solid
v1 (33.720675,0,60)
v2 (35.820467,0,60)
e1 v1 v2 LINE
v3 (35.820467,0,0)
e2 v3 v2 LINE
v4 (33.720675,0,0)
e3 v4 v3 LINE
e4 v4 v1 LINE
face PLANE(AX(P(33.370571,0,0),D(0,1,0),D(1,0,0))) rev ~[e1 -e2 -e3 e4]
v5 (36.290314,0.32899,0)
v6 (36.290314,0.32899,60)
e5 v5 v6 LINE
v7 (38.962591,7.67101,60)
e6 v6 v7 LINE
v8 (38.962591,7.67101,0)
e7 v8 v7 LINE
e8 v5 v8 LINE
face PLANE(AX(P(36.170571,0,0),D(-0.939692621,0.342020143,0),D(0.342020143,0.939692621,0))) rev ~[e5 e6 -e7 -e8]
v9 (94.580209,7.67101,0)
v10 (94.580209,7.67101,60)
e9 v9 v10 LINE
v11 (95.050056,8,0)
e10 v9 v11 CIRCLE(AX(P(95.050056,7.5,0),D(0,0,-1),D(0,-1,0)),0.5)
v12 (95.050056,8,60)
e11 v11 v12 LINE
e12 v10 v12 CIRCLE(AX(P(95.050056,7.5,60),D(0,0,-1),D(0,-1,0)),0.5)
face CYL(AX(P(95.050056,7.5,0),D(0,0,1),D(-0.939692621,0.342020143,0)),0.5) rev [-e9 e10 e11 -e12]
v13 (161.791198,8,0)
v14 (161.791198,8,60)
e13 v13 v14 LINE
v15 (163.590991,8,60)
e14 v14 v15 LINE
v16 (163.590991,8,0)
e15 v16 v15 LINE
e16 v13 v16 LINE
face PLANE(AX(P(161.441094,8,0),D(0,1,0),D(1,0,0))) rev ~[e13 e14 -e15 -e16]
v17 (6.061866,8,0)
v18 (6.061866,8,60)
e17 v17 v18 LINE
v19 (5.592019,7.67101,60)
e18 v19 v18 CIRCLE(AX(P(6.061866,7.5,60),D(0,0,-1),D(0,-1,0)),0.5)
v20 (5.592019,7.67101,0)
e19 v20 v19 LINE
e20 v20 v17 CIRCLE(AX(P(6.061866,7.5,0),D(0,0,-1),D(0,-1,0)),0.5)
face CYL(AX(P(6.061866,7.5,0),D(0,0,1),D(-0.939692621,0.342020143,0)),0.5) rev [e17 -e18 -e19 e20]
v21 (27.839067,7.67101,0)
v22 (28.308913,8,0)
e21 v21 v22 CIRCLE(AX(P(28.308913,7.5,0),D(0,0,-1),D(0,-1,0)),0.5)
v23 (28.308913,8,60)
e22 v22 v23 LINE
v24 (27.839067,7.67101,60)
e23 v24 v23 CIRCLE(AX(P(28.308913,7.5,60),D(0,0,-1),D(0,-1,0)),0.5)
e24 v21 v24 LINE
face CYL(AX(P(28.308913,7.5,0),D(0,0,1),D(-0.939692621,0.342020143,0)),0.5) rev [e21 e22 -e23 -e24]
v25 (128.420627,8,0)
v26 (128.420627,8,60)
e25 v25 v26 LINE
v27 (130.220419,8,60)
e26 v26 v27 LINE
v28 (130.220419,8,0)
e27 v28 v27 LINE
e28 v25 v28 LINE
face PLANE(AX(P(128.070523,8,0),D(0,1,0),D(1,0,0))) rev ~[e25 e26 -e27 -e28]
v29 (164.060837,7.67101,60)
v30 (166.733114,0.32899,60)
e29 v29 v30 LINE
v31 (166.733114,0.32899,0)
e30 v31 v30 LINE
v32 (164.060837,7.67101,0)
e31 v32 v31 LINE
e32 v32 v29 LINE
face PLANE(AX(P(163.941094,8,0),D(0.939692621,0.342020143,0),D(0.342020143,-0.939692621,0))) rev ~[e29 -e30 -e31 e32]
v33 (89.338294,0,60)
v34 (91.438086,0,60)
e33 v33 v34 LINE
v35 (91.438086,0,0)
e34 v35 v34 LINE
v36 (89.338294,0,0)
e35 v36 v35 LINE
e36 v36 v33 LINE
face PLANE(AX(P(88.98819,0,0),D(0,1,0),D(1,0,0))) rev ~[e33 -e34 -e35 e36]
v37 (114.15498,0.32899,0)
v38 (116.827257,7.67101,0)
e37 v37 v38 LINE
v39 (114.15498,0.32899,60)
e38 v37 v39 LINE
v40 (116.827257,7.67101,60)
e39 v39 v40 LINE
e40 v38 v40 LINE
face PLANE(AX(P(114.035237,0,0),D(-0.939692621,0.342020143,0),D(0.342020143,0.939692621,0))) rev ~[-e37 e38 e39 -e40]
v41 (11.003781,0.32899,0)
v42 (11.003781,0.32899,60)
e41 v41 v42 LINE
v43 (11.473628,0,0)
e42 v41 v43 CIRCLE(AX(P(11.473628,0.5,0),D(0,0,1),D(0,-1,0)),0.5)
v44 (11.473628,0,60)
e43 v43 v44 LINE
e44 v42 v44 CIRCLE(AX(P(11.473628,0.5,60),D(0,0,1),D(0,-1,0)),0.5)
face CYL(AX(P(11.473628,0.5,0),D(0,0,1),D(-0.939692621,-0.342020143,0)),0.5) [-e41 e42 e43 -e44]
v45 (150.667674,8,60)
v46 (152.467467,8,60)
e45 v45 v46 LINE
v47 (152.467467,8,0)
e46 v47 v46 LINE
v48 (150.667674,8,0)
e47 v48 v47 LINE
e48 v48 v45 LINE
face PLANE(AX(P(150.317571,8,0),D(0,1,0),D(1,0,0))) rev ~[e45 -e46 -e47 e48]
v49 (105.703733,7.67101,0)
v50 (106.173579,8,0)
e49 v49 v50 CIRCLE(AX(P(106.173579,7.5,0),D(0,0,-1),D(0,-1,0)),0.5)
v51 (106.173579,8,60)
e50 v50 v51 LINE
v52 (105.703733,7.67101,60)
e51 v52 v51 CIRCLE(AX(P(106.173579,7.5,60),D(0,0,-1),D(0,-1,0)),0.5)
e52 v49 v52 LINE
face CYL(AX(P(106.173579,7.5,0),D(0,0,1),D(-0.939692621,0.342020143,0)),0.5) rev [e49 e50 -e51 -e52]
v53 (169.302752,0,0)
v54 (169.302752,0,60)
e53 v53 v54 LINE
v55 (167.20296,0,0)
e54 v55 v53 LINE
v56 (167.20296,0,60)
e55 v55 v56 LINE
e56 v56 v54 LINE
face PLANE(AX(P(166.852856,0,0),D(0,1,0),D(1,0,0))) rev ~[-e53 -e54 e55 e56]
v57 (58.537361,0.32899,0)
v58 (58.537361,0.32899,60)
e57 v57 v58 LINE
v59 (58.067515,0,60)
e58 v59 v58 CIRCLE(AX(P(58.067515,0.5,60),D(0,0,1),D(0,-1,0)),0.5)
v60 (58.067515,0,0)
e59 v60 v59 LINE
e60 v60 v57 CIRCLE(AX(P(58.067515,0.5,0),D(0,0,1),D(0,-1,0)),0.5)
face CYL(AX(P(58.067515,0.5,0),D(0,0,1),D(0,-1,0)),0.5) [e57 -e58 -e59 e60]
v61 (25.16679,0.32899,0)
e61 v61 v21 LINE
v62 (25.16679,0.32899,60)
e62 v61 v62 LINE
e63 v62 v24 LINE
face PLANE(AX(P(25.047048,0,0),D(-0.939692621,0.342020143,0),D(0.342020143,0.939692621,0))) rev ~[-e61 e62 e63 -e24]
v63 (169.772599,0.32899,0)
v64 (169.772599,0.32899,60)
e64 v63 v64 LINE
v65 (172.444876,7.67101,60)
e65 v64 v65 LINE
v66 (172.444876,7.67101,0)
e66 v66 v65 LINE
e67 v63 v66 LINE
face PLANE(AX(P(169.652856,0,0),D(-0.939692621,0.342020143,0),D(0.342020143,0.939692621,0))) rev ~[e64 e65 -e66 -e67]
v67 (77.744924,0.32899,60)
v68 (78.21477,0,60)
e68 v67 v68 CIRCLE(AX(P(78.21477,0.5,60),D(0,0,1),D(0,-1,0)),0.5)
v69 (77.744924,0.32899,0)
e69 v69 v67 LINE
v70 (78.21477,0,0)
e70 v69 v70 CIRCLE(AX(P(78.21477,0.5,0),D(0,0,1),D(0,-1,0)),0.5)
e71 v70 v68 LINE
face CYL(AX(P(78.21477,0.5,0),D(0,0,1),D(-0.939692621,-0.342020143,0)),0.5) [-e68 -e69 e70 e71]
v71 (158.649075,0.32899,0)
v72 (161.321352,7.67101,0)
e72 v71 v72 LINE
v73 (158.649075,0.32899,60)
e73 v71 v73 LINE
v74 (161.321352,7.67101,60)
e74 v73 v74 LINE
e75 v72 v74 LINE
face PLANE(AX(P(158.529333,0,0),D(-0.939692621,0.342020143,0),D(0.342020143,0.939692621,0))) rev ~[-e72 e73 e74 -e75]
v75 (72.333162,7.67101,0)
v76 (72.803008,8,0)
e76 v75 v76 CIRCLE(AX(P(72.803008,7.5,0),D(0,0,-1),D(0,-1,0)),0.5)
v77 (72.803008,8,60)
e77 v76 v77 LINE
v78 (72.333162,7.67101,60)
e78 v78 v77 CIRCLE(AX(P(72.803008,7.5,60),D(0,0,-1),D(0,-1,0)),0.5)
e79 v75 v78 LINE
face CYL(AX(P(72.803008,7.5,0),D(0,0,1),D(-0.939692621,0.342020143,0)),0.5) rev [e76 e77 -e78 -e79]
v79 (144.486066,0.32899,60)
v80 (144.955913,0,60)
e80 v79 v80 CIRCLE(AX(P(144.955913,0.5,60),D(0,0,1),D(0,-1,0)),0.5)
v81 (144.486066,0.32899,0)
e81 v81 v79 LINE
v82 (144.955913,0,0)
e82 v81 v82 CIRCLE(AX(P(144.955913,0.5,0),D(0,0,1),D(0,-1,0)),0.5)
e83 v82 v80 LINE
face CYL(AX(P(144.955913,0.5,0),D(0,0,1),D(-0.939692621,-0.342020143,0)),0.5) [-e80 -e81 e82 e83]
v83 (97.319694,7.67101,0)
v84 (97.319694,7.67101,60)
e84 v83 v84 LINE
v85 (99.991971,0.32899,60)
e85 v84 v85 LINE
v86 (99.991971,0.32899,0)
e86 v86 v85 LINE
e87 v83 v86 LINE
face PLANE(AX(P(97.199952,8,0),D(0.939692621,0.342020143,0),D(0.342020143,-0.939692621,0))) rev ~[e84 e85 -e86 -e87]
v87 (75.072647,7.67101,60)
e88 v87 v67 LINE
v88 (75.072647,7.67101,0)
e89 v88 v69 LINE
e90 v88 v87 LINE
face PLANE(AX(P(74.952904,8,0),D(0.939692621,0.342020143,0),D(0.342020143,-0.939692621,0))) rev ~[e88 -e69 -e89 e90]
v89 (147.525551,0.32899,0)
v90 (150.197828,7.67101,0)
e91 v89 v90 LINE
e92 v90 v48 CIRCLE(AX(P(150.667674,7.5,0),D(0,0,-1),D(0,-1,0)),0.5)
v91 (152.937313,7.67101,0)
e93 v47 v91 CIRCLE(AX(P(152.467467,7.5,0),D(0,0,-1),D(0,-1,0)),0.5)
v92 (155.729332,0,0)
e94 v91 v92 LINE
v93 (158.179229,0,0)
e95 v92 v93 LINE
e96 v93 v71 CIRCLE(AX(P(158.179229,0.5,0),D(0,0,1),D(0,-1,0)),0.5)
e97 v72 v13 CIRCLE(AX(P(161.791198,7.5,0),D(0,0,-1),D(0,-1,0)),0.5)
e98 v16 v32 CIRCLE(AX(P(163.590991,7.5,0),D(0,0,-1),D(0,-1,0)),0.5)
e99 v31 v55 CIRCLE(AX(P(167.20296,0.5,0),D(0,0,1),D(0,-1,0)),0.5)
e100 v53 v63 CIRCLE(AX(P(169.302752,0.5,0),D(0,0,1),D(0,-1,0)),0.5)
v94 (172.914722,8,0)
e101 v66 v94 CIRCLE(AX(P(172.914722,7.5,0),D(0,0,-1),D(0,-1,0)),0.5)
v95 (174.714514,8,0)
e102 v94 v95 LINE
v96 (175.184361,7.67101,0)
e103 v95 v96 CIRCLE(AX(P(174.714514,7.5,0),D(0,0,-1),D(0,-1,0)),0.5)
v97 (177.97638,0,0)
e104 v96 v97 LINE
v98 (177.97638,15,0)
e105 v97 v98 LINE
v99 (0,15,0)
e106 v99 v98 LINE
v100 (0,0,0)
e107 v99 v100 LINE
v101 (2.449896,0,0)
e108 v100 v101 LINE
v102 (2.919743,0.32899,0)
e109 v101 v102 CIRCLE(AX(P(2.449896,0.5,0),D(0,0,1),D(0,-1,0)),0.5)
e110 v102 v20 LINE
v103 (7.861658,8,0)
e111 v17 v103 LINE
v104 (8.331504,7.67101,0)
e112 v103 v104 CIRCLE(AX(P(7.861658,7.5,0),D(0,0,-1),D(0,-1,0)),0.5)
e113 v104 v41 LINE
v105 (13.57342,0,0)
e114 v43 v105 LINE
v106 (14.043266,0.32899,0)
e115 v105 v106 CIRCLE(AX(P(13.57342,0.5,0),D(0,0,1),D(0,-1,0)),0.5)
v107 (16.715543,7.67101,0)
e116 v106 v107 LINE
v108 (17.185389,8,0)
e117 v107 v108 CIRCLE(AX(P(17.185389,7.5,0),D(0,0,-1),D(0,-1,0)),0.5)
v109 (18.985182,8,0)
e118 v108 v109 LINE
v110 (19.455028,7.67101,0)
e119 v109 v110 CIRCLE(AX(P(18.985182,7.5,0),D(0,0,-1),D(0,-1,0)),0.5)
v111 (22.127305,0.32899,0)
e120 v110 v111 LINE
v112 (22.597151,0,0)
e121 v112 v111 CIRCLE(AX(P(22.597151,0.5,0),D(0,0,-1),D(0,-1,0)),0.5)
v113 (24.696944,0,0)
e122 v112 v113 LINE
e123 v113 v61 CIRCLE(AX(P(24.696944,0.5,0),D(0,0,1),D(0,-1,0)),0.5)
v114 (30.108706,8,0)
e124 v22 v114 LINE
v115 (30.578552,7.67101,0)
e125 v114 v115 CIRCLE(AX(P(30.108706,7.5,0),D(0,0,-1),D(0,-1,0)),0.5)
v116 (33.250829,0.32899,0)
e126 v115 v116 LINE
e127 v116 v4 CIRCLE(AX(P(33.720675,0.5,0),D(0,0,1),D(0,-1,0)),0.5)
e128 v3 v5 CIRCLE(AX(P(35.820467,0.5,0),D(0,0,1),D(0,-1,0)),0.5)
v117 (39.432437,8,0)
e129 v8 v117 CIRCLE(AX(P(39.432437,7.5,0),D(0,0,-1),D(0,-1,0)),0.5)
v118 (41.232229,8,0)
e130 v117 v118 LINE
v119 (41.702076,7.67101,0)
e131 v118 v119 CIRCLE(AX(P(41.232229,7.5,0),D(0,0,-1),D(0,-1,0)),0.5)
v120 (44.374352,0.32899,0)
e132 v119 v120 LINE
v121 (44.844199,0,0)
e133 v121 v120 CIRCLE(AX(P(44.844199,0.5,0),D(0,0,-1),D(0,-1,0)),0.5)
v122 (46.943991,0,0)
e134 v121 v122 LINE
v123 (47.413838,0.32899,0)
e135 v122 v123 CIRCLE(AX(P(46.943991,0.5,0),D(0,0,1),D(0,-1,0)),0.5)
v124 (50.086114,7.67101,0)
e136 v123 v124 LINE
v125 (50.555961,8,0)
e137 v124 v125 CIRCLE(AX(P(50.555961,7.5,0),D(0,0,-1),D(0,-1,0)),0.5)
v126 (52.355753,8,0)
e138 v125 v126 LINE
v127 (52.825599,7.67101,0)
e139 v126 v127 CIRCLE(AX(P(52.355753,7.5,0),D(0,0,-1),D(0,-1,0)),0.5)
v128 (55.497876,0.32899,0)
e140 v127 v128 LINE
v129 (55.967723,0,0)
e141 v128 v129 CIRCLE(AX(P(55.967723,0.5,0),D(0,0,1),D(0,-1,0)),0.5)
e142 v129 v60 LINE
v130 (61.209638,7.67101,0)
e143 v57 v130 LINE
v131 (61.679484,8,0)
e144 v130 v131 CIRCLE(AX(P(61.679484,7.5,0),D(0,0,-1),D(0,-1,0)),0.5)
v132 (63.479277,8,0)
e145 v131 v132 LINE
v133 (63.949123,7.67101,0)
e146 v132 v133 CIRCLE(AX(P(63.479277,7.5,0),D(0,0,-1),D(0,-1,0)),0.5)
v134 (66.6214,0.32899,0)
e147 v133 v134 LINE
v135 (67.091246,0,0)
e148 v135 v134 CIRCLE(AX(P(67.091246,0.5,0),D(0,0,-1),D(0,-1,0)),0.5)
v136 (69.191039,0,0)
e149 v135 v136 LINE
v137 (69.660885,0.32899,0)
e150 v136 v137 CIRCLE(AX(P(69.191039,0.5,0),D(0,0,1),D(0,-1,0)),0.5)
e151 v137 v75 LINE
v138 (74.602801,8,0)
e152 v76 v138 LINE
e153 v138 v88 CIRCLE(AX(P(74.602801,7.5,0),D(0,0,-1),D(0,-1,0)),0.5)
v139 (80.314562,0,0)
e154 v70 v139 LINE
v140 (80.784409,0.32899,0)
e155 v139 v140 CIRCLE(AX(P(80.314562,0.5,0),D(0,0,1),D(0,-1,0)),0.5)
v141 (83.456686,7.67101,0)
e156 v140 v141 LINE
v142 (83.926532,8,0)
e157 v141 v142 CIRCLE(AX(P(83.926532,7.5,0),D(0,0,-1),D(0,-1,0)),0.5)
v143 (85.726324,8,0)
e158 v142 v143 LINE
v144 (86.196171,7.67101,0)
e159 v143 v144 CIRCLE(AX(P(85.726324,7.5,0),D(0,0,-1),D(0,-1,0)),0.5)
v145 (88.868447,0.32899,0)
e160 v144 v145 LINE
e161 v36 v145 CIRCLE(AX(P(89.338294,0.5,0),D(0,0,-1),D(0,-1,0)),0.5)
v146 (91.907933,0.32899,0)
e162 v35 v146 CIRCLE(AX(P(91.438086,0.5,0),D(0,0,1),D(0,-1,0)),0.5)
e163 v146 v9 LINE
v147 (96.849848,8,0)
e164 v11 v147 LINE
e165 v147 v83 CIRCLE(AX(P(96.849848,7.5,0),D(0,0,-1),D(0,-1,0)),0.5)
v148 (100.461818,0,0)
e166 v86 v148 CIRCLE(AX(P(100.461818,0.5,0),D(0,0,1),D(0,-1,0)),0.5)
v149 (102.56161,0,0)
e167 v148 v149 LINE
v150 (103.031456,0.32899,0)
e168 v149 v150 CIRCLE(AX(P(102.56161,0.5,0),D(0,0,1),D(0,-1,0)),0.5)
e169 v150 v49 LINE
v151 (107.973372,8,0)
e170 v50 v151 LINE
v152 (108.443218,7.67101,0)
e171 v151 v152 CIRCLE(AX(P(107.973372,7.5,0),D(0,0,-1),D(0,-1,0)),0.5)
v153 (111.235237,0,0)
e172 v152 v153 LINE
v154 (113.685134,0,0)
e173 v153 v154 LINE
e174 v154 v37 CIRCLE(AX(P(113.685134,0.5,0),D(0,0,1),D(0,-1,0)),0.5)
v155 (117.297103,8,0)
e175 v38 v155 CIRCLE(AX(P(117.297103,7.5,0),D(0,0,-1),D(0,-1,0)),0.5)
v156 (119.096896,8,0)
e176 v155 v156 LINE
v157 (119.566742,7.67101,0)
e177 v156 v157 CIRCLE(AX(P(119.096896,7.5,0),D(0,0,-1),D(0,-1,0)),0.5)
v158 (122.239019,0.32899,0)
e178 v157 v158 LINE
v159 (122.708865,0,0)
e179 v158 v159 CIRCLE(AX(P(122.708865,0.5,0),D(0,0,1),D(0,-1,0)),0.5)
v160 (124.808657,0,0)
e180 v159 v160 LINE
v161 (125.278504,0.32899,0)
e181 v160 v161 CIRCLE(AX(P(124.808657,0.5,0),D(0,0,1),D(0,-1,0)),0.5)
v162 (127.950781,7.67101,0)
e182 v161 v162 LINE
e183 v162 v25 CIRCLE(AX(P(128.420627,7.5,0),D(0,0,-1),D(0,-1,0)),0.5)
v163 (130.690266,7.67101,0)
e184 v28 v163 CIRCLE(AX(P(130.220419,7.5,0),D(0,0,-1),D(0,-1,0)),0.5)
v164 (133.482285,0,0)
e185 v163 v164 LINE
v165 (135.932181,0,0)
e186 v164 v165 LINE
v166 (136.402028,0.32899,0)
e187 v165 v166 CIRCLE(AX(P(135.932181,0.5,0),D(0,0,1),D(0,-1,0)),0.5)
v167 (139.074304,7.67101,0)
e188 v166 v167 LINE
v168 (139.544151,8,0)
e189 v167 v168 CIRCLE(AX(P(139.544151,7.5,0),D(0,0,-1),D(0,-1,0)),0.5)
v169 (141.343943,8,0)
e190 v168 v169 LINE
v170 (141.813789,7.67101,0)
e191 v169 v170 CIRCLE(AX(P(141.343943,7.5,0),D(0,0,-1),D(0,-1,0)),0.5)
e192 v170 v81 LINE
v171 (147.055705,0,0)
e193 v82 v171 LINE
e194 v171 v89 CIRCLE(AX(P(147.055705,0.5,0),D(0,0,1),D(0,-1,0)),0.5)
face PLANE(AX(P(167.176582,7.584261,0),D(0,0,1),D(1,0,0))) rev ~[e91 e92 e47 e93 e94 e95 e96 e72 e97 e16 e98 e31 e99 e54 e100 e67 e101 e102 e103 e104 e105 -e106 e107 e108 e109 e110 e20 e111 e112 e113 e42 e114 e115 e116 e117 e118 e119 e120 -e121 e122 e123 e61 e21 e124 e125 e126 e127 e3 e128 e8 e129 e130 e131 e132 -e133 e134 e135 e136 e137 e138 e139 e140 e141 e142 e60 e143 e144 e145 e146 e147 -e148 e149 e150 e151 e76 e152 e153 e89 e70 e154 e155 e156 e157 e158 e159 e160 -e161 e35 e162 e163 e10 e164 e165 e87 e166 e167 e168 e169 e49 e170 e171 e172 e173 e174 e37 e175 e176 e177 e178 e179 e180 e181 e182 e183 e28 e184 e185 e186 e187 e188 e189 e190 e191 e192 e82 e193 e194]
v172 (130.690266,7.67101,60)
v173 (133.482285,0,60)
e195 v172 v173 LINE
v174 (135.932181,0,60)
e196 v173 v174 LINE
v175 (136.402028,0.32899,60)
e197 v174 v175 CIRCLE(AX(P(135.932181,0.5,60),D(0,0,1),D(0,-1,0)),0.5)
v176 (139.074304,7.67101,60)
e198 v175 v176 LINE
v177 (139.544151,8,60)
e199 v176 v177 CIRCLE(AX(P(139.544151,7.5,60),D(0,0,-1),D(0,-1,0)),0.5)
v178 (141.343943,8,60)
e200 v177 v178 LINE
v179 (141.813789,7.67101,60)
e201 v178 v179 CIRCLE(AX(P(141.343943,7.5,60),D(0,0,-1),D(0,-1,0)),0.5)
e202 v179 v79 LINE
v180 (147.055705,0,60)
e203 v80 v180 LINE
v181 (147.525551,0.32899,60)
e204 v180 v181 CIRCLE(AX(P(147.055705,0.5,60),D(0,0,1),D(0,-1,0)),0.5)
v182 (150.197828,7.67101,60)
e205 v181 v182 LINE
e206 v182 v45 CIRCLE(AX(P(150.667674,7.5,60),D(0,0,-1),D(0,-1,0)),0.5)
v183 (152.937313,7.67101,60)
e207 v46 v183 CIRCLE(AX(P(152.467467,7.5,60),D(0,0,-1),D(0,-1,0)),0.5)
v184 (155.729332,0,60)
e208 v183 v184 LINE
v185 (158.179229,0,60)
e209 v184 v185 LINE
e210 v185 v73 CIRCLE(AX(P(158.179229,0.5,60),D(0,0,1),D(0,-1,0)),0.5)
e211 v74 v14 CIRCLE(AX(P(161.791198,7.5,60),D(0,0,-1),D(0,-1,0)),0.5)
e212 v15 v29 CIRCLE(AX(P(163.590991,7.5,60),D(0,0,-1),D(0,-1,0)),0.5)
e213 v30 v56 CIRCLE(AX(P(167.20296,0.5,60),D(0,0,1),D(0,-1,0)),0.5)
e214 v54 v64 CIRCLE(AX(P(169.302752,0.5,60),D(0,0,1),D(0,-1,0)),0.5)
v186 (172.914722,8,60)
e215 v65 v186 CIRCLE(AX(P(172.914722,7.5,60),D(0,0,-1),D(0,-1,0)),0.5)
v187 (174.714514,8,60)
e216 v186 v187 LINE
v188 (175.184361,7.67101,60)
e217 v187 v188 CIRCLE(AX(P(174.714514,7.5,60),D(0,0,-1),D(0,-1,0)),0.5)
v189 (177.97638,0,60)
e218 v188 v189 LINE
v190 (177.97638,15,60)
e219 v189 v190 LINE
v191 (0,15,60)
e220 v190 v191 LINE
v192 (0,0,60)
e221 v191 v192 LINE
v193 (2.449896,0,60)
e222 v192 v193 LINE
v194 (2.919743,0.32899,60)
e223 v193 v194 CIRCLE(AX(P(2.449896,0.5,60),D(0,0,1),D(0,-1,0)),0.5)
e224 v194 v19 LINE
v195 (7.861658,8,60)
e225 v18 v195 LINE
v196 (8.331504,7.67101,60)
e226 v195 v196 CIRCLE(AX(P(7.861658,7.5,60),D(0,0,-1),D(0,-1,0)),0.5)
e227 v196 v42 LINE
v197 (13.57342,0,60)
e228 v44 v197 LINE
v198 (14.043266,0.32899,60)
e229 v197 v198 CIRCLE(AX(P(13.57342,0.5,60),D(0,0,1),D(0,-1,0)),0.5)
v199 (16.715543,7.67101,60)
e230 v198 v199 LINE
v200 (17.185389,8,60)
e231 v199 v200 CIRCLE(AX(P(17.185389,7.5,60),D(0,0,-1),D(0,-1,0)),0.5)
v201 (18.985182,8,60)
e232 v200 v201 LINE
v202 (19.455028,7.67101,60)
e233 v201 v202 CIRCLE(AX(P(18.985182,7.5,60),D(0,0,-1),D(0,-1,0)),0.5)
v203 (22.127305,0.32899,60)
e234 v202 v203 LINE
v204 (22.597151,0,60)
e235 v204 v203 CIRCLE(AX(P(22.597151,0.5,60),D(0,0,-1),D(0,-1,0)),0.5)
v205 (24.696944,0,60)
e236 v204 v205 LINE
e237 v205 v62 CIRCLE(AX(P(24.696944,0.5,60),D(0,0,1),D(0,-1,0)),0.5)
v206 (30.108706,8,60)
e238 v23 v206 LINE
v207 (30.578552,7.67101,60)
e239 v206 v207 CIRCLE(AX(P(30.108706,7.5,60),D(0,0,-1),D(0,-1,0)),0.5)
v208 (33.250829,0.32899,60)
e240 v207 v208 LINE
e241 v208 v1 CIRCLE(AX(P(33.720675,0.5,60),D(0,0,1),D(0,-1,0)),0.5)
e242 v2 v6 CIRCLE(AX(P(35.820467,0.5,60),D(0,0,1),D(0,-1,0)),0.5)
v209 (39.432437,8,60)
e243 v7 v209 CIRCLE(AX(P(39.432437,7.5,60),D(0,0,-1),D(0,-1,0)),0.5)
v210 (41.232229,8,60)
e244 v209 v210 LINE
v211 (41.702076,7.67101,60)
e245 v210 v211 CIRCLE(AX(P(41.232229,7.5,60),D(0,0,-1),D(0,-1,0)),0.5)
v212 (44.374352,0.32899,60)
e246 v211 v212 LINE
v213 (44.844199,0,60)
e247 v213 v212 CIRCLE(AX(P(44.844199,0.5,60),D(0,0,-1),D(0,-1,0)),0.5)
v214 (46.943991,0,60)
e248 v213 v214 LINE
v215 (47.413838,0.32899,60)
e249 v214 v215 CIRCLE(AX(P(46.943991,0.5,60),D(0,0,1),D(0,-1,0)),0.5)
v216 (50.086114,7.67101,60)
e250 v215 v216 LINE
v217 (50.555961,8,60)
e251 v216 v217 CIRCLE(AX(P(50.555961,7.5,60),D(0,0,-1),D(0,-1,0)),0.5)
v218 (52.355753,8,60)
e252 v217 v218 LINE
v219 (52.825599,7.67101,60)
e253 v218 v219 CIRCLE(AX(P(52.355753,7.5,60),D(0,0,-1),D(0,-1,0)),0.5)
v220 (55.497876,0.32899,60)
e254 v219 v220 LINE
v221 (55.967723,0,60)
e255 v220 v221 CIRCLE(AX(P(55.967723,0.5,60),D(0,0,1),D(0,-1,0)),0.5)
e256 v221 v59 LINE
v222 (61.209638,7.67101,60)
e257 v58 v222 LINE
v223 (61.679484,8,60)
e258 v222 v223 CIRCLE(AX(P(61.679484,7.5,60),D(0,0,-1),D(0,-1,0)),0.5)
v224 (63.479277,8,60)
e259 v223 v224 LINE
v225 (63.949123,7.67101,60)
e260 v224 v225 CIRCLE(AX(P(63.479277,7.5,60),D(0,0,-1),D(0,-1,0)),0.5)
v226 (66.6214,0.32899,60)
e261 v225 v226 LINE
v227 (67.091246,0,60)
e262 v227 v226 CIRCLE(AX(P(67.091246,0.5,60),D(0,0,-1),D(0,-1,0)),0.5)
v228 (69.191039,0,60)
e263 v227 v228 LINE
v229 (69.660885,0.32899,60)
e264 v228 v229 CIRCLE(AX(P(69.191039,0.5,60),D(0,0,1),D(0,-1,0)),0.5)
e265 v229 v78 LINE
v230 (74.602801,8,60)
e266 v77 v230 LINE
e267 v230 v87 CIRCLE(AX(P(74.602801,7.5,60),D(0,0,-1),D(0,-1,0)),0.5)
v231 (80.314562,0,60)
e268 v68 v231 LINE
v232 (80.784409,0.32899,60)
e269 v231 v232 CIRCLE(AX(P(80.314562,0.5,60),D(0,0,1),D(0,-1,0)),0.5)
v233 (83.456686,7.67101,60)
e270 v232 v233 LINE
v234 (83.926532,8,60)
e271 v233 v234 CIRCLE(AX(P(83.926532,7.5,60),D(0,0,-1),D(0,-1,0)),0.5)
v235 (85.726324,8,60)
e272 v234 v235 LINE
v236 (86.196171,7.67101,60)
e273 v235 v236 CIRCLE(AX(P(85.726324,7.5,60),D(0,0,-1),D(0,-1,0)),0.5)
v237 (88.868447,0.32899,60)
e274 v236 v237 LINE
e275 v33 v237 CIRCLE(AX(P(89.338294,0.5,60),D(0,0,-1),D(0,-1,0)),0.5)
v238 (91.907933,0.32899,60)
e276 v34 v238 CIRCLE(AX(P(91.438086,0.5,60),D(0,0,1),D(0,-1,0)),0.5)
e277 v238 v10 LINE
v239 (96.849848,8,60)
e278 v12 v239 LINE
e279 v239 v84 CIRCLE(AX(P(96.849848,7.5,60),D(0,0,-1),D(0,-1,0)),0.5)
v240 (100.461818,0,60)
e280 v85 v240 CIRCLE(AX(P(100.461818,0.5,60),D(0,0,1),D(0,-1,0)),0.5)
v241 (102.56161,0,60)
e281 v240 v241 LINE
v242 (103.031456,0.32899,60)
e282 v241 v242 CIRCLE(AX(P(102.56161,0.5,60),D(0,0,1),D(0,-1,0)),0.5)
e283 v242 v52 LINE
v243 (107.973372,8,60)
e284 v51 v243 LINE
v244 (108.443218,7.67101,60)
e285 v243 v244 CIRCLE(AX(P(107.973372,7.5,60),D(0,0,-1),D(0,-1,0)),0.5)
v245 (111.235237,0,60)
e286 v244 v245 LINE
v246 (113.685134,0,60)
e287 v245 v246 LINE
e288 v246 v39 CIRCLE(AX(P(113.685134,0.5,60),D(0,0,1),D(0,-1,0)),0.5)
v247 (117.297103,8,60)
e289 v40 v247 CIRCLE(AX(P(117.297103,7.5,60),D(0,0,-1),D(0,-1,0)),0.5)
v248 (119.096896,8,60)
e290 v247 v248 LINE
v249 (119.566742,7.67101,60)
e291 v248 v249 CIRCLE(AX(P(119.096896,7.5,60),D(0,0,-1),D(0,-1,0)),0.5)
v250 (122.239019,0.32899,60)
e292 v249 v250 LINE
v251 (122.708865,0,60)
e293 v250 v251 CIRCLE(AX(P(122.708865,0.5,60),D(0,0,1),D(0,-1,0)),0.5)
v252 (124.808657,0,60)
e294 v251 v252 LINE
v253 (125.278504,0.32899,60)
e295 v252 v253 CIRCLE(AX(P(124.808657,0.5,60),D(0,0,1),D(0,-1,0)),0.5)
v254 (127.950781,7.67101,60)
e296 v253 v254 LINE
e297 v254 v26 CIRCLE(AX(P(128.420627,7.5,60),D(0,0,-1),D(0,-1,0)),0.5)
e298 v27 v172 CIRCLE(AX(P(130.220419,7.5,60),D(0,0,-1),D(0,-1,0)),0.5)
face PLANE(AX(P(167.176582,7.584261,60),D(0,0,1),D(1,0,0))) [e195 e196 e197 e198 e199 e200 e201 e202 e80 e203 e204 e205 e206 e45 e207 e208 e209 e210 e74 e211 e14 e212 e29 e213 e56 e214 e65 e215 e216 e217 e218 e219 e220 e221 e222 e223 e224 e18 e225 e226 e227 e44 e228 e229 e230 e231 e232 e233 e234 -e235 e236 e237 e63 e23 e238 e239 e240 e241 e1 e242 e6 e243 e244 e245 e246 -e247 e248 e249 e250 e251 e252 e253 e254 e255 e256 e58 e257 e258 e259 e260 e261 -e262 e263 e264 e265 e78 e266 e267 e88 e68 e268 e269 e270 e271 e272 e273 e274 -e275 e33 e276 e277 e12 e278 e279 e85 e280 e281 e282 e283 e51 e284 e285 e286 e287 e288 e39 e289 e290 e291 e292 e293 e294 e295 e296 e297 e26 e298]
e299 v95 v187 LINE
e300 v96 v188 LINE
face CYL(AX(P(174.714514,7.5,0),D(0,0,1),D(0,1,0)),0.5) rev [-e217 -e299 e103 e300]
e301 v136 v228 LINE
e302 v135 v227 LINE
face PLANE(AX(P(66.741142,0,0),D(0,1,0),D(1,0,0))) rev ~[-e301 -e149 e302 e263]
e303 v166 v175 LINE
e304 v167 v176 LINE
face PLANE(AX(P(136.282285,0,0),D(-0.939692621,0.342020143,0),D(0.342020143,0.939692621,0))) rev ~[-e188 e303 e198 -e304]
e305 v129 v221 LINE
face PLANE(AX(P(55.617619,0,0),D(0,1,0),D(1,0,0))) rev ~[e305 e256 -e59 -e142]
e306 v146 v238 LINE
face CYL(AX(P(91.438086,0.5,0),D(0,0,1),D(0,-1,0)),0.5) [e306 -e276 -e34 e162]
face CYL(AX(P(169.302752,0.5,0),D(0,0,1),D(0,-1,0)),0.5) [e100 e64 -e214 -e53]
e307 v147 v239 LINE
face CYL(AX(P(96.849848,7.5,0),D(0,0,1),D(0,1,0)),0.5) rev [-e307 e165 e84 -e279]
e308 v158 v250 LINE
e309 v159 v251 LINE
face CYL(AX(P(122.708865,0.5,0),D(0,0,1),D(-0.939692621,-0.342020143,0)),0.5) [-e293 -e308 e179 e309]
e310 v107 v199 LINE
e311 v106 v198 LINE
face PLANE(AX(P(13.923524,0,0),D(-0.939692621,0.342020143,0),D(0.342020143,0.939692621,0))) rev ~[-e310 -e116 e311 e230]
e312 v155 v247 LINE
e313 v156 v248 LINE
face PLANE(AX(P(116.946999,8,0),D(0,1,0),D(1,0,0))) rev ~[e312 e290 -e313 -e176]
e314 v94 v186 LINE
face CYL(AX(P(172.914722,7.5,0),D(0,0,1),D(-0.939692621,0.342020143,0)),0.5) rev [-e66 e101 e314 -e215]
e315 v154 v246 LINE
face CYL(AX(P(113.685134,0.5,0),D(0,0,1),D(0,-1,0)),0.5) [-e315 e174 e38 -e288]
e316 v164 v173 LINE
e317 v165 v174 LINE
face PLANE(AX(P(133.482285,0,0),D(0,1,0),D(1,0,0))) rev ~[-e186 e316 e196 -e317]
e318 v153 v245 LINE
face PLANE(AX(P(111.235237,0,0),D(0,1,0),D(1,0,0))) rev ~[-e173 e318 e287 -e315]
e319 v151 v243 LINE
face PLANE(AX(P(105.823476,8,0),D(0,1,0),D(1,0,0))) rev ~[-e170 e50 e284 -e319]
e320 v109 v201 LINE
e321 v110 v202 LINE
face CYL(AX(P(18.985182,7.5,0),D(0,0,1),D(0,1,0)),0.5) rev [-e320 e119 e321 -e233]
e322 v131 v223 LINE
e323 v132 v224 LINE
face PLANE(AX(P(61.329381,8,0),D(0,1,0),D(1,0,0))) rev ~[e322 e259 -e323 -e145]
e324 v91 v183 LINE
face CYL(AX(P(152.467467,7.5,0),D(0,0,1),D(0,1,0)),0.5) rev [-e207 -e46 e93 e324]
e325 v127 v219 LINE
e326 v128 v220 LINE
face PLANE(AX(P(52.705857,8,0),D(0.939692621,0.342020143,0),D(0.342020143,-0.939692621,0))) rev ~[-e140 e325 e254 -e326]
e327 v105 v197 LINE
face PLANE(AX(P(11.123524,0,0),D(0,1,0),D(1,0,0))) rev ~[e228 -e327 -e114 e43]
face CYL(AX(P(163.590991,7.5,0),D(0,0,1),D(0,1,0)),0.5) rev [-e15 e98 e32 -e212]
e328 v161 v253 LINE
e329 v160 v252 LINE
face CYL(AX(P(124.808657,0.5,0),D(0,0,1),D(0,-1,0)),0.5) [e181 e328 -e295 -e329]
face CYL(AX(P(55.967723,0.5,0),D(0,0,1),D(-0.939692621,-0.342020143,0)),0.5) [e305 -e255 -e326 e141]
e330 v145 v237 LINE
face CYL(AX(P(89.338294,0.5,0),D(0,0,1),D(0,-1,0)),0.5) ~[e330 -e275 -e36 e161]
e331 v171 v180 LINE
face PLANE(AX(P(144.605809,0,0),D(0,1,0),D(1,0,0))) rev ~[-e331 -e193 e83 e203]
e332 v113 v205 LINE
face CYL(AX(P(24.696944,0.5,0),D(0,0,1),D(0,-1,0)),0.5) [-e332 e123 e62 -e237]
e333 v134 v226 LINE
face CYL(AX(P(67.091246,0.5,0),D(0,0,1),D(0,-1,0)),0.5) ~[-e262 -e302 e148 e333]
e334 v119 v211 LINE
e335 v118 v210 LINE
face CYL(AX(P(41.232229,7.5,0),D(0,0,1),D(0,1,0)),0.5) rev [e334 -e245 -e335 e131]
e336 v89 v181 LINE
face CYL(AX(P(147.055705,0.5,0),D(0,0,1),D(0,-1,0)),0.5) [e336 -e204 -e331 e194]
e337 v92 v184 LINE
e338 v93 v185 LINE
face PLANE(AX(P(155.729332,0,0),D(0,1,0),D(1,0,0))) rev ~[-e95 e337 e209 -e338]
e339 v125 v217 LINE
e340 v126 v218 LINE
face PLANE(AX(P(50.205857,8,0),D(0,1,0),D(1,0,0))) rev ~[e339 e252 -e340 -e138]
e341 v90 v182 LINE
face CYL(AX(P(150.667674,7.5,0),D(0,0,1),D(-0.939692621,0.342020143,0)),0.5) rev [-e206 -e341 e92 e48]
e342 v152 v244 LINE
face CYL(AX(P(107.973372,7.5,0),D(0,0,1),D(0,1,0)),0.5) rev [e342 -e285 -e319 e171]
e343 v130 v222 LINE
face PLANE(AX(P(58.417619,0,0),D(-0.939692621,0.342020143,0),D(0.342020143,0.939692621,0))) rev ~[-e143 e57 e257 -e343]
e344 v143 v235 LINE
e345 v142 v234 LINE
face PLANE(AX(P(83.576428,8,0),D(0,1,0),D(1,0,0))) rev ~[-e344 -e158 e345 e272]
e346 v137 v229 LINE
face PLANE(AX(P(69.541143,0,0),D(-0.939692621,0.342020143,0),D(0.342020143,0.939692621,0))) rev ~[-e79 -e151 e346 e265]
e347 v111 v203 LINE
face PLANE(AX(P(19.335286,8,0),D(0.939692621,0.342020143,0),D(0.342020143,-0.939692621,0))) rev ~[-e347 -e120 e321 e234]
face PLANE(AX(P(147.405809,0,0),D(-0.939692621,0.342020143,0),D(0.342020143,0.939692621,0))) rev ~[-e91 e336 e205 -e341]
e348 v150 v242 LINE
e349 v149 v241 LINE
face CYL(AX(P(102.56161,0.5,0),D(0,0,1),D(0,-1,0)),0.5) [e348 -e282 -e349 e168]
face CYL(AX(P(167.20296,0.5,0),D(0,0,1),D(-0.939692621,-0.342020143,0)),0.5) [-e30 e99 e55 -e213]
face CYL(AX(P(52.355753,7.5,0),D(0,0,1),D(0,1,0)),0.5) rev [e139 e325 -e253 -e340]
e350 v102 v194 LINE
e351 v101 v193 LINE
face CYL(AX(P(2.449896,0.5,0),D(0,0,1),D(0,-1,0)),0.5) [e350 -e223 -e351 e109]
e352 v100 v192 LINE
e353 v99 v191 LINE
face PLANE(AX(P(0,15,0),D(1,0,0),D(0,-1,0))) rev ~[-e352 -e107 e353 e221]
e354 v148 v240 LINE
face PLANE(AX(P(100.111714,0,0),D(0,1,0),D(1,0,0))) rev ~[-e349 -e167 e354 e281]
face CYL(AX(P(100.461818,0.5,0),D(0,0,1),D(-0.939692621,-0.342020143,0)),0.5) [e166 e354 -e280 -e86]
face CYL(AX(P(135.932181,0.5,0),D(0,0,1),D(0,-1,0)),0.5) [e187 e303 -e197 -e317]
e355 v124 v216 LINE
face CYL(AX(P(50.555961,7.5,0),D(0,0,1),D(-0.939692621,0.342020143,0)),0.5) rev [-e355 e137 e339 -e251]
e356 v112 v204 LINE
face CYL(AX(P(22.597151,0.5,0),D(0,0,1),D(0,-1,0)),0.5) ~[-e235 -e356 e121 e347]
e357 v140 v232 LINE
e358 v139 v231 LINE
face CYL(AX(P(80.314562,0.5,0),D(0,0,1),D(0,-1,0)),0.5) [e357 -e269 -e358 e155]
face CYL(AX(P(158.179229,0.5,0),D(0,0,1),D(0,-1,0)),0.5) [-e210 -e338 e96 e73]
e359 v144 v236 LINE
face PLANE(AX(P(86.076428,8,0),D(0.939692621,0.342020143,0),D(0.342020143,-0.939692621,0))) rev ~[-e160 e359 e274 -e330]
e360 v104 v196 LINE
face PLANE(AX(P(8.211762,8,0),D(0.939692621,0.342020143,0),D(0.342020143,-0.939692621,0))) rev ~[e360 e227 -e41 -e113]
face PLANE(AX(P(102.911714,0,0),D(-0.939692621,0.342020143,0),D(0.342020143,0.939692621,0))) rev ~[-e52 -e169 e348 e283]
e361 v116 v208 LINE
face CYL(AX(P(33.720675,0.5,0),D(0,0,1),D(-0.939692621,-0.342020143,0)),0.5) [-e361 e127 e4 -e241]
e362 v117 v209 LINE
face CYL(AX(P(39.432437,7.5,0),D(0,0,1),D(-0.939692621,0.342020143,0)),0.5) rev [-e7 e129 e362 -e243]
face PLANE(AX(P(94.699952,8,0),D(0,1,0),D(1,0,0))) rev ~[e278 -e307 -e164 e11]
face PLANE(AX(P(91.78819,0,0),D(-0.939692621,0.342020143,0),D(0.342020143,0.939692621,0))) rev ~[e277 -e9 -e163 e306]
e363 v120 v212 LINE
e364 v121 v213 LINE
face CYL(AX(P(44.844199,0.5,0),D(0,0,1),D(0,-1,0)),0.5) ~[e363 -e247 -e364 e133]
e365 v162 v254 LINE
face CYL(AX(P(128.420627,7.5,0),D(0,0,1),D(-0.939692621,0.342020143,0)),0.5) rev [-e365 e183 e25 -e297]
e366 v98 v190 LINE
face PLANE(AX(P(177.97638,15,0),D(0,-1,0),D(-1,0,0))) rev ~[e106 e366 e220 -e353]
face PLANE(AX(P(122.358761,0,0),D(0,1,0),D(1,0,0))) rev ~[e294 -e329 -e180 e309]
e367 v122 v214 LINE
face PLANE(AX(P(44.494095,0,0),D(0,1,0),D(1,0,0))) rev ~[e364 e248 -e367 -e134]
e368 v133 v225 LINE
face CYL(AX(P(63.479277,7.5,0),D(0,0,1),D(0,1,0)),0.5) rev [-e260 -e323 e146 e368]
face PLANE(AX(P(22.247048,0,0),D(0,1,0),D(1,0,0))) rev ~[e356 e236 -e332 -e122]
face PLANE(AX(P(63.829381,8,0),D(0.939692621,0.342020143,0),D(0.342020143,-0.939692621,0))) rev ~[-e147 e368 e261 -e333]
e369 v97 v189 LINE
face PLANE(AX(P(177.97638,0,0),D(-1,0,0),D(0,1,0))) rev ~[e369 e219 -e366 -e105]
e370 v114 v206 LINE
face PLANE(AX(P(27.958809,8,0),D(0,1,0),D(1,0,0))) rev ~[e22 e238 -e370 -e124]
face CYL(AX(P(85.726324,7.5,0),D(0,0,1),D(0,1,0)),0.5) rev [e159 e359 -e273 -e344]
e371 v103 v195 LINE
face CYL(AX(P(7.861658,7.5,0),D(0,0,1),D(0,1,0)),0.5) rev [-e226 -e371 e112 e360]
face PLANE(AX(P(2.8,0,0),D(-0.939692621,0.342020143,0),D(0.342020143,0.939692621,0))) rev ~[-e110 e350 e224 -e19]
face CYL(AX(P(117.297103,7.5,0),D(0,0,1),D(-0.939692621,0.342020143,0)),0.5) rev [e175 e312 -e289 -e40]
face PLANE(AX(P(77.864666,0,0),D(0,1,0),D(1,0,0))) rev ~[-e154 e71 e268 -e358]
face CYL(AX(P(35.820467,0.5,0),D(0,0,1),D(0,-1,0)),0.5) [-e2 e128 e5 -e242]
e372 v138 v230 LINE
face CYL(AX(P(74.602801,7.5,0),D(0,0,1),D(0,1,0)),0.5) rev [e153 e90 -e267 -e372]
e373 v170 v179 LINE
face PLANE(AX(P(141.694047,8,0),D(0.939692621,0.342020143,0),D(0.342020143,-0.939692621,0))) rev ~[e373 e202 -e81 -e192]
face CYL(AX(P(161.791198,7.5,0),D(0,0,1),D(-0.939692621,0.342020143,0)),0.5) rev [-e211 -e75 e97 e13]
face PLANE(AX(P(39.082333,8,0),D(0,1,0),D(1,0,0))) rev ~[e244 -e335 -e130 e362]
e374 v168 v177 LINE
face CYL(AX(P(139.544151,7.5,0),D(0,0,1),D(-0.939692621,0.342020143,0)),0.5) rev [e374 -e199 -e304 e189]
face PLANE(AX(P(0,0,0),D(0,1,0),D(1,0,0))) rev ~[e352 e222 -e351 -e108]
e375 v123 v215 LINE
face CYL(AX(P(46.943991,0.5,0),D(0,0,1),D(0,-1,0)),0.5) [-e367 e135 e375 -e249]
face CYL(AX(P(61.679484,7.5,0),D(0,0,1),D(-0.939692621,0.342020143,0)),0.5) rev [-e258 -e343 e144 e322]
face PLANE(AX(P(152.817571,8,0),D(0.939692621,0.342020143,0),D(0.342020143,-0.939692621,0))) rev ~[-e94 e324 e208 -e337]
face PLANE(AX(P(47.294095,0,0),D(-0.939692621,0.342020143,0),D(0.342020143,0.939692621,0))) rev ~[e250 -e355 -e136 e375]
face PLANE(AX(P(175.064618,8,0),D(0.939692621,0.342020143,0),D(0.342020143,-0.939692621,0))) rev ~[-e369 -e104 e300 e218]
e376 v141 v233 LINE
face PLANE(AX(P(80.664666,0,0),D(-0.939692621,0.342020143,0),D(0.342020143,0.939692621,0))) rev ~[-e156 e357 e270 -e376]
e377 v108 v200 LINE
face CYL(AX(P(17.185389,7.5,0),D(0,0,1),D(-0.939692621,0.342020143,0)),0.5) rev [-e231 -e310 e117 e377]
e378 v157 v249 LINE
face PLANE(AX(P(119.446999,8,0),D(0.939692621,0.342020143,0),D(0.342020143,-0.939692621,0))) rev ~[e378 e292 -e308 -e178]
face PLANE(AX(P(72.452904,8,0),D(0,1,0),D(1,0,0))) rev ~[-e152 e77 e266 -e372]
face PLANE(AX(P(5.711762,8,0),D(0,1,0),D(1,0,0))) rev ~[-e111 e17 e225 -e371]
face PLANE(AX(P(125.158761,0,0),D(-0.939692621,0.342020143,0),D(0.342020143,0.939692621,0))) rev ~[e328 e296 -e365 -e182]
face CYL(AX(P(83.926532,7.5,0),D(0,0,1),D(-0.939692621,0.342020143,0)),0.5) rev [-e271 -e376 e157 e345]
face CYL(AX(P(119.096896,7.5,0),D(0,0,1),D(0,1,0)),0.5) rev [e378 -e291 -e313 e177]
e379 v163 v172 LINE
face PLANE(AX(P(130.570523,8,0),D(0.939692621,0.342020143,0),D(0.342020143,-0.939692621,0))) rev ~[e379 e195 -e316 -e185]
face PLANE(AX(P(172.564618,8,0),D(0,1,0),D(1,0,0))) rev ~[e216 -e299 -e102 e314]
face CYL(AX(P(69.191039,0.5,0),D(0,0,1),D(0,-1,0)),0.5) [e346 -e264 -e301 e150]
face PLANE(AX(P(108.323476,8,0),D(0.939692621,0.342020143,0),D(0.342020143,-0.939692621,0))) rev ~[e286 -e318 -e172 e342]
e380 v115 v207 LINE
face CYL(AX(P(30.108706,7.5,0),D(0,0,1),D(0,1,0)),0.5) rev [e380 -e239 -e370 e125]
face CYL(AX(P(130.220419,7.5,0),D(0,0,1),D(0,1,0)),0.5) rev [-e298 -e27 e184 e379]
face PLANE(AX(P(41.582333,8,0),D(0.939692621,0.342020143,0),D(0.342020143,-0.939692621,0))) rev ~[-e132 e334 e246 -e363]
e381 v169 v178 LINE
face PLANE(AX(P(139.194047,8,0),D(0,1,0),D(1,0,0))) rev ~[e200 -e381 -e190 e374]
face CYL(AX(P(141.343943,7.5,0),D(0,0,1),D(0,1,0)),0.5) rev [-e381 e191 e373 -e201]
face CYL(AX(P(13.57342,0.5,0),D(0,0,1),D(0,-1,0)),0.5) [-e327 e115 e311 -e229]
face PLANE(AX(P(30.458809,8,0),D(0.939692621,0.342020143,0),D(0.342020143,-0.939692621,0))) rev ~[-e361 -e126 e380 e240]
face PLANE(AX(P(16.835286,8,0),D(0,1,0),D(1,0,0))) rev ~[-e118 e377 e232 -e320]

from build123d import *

# Parameters (mm, degrees)
BOSS_EXTRUDE1_DEPTH = 60
FILLET1_R           = 0.5
LPATTERN1_COUNT     = 8
LPATTERN1_PITCH     = 22.2470475
FILLET2_R           = 0.5


with BuildPart() as part:
    # Sketch1 → Boss-Extrude1 (new body)
    with BuildSketch(Plane.XY):
        Polygon((0, 0), (2.8, 0), (5.711761874, 8), (8.211761874, 8), (11.123523748, 0), (13.923523748, 0), (16.835285622, 8), (19.335285622, 8), (22.247047497, 0), (22.247047497, 15), (0, 15), align=None)
    extrude(amount=BOSS_EXTRUDE1_DEPTH)

    # Fillet1
    fillet1_edges = [part.edges().sort_by_distance(p)[0] for p in [
        (19.335285622, 8, 30),
        (16.835285622, 8, 30),
        (13.923523748, 0, 30),
        (11.123523748, 0, 30),
        (8.211761874, 8, 30),
        (5.711761874, 8, 30),
        (2.8, 0, 30),
    ]]
    fillet(fillet1_edges, radius=FILLET1_R)


with BuildPart() as lpattern1_1:
    # LPattern1: pattern copy
    add(part.part.moved(Location(Vector(1, 0, 0) * (1 * LPATTERN1_PITCH))))


with BuildPart() as lpattern1_2:
    # LPattern1: pattern copy
    add(part.part.moved(Location(Vector(1, 0, 0) * (2 * LPATTERN1_PITCH))))


with BuildPart() as lpattern1_3:
    # LPattern1: pattern copy
    add(part.part.moved(Location(Vector(1, 0, 0) * (3 * LPATTERN1_PITCH))))


with BuildPart() as lpattern1_4:
    # LPattern1: pattern copy
    add(part.part.moved(Location(Vector(1, 0, 0) * (4 * LPATTERN1_PITCH))))


with BuildPart() as lpattern1_5:
    # LPattern1: pattern copy
    add(part.part.moved(Location(Vector(1, 0, 0) * (5 * LPATTERN1_PITCH))))


with BuildPart() as lpattern1_6:
    # LPattern1: pattern copy
    add(part.part.moved(Location(Vector(1, 0, 0) * (6 * LPATTERN1_PITCH))))


with BuildPart() as lpattern1_7:
    # LPattern1: pattern copy
    add(part.part.moved(Location(Vector(1, 0, 0) * (7 * LPATTERN1_PITCH))))


with BuildPart() as part_1:
    add(part.part)

    # Combine1: union LPattern1_1, LPattern1_2, LPattern1_3, LPattern1_4, LPattern1_5, LPattern1_6, LPattern1_7
    add(lpattern1_1.part)
    add(lpattern1_2.part)
    add(lpattern1_3.part)
    add(lpattern1_4.part)
    add(lpattern1_5.part)
    add(lpattern1_6.part)
    add(lpattern1_7.part)

    # Fillet2
    fillet2_edges = [part_1.edges().sort_by_distance(p)[0] for p in [
        (44.494094997, 0, 30),
        (66.741142497, 0, 30),
        (88.988189997, 0, 30),
        (22.247047497, 0, 30),
    ]]
    fillet(fillet2_edges, radius=FILLET2_R)


solid = part_1.part
